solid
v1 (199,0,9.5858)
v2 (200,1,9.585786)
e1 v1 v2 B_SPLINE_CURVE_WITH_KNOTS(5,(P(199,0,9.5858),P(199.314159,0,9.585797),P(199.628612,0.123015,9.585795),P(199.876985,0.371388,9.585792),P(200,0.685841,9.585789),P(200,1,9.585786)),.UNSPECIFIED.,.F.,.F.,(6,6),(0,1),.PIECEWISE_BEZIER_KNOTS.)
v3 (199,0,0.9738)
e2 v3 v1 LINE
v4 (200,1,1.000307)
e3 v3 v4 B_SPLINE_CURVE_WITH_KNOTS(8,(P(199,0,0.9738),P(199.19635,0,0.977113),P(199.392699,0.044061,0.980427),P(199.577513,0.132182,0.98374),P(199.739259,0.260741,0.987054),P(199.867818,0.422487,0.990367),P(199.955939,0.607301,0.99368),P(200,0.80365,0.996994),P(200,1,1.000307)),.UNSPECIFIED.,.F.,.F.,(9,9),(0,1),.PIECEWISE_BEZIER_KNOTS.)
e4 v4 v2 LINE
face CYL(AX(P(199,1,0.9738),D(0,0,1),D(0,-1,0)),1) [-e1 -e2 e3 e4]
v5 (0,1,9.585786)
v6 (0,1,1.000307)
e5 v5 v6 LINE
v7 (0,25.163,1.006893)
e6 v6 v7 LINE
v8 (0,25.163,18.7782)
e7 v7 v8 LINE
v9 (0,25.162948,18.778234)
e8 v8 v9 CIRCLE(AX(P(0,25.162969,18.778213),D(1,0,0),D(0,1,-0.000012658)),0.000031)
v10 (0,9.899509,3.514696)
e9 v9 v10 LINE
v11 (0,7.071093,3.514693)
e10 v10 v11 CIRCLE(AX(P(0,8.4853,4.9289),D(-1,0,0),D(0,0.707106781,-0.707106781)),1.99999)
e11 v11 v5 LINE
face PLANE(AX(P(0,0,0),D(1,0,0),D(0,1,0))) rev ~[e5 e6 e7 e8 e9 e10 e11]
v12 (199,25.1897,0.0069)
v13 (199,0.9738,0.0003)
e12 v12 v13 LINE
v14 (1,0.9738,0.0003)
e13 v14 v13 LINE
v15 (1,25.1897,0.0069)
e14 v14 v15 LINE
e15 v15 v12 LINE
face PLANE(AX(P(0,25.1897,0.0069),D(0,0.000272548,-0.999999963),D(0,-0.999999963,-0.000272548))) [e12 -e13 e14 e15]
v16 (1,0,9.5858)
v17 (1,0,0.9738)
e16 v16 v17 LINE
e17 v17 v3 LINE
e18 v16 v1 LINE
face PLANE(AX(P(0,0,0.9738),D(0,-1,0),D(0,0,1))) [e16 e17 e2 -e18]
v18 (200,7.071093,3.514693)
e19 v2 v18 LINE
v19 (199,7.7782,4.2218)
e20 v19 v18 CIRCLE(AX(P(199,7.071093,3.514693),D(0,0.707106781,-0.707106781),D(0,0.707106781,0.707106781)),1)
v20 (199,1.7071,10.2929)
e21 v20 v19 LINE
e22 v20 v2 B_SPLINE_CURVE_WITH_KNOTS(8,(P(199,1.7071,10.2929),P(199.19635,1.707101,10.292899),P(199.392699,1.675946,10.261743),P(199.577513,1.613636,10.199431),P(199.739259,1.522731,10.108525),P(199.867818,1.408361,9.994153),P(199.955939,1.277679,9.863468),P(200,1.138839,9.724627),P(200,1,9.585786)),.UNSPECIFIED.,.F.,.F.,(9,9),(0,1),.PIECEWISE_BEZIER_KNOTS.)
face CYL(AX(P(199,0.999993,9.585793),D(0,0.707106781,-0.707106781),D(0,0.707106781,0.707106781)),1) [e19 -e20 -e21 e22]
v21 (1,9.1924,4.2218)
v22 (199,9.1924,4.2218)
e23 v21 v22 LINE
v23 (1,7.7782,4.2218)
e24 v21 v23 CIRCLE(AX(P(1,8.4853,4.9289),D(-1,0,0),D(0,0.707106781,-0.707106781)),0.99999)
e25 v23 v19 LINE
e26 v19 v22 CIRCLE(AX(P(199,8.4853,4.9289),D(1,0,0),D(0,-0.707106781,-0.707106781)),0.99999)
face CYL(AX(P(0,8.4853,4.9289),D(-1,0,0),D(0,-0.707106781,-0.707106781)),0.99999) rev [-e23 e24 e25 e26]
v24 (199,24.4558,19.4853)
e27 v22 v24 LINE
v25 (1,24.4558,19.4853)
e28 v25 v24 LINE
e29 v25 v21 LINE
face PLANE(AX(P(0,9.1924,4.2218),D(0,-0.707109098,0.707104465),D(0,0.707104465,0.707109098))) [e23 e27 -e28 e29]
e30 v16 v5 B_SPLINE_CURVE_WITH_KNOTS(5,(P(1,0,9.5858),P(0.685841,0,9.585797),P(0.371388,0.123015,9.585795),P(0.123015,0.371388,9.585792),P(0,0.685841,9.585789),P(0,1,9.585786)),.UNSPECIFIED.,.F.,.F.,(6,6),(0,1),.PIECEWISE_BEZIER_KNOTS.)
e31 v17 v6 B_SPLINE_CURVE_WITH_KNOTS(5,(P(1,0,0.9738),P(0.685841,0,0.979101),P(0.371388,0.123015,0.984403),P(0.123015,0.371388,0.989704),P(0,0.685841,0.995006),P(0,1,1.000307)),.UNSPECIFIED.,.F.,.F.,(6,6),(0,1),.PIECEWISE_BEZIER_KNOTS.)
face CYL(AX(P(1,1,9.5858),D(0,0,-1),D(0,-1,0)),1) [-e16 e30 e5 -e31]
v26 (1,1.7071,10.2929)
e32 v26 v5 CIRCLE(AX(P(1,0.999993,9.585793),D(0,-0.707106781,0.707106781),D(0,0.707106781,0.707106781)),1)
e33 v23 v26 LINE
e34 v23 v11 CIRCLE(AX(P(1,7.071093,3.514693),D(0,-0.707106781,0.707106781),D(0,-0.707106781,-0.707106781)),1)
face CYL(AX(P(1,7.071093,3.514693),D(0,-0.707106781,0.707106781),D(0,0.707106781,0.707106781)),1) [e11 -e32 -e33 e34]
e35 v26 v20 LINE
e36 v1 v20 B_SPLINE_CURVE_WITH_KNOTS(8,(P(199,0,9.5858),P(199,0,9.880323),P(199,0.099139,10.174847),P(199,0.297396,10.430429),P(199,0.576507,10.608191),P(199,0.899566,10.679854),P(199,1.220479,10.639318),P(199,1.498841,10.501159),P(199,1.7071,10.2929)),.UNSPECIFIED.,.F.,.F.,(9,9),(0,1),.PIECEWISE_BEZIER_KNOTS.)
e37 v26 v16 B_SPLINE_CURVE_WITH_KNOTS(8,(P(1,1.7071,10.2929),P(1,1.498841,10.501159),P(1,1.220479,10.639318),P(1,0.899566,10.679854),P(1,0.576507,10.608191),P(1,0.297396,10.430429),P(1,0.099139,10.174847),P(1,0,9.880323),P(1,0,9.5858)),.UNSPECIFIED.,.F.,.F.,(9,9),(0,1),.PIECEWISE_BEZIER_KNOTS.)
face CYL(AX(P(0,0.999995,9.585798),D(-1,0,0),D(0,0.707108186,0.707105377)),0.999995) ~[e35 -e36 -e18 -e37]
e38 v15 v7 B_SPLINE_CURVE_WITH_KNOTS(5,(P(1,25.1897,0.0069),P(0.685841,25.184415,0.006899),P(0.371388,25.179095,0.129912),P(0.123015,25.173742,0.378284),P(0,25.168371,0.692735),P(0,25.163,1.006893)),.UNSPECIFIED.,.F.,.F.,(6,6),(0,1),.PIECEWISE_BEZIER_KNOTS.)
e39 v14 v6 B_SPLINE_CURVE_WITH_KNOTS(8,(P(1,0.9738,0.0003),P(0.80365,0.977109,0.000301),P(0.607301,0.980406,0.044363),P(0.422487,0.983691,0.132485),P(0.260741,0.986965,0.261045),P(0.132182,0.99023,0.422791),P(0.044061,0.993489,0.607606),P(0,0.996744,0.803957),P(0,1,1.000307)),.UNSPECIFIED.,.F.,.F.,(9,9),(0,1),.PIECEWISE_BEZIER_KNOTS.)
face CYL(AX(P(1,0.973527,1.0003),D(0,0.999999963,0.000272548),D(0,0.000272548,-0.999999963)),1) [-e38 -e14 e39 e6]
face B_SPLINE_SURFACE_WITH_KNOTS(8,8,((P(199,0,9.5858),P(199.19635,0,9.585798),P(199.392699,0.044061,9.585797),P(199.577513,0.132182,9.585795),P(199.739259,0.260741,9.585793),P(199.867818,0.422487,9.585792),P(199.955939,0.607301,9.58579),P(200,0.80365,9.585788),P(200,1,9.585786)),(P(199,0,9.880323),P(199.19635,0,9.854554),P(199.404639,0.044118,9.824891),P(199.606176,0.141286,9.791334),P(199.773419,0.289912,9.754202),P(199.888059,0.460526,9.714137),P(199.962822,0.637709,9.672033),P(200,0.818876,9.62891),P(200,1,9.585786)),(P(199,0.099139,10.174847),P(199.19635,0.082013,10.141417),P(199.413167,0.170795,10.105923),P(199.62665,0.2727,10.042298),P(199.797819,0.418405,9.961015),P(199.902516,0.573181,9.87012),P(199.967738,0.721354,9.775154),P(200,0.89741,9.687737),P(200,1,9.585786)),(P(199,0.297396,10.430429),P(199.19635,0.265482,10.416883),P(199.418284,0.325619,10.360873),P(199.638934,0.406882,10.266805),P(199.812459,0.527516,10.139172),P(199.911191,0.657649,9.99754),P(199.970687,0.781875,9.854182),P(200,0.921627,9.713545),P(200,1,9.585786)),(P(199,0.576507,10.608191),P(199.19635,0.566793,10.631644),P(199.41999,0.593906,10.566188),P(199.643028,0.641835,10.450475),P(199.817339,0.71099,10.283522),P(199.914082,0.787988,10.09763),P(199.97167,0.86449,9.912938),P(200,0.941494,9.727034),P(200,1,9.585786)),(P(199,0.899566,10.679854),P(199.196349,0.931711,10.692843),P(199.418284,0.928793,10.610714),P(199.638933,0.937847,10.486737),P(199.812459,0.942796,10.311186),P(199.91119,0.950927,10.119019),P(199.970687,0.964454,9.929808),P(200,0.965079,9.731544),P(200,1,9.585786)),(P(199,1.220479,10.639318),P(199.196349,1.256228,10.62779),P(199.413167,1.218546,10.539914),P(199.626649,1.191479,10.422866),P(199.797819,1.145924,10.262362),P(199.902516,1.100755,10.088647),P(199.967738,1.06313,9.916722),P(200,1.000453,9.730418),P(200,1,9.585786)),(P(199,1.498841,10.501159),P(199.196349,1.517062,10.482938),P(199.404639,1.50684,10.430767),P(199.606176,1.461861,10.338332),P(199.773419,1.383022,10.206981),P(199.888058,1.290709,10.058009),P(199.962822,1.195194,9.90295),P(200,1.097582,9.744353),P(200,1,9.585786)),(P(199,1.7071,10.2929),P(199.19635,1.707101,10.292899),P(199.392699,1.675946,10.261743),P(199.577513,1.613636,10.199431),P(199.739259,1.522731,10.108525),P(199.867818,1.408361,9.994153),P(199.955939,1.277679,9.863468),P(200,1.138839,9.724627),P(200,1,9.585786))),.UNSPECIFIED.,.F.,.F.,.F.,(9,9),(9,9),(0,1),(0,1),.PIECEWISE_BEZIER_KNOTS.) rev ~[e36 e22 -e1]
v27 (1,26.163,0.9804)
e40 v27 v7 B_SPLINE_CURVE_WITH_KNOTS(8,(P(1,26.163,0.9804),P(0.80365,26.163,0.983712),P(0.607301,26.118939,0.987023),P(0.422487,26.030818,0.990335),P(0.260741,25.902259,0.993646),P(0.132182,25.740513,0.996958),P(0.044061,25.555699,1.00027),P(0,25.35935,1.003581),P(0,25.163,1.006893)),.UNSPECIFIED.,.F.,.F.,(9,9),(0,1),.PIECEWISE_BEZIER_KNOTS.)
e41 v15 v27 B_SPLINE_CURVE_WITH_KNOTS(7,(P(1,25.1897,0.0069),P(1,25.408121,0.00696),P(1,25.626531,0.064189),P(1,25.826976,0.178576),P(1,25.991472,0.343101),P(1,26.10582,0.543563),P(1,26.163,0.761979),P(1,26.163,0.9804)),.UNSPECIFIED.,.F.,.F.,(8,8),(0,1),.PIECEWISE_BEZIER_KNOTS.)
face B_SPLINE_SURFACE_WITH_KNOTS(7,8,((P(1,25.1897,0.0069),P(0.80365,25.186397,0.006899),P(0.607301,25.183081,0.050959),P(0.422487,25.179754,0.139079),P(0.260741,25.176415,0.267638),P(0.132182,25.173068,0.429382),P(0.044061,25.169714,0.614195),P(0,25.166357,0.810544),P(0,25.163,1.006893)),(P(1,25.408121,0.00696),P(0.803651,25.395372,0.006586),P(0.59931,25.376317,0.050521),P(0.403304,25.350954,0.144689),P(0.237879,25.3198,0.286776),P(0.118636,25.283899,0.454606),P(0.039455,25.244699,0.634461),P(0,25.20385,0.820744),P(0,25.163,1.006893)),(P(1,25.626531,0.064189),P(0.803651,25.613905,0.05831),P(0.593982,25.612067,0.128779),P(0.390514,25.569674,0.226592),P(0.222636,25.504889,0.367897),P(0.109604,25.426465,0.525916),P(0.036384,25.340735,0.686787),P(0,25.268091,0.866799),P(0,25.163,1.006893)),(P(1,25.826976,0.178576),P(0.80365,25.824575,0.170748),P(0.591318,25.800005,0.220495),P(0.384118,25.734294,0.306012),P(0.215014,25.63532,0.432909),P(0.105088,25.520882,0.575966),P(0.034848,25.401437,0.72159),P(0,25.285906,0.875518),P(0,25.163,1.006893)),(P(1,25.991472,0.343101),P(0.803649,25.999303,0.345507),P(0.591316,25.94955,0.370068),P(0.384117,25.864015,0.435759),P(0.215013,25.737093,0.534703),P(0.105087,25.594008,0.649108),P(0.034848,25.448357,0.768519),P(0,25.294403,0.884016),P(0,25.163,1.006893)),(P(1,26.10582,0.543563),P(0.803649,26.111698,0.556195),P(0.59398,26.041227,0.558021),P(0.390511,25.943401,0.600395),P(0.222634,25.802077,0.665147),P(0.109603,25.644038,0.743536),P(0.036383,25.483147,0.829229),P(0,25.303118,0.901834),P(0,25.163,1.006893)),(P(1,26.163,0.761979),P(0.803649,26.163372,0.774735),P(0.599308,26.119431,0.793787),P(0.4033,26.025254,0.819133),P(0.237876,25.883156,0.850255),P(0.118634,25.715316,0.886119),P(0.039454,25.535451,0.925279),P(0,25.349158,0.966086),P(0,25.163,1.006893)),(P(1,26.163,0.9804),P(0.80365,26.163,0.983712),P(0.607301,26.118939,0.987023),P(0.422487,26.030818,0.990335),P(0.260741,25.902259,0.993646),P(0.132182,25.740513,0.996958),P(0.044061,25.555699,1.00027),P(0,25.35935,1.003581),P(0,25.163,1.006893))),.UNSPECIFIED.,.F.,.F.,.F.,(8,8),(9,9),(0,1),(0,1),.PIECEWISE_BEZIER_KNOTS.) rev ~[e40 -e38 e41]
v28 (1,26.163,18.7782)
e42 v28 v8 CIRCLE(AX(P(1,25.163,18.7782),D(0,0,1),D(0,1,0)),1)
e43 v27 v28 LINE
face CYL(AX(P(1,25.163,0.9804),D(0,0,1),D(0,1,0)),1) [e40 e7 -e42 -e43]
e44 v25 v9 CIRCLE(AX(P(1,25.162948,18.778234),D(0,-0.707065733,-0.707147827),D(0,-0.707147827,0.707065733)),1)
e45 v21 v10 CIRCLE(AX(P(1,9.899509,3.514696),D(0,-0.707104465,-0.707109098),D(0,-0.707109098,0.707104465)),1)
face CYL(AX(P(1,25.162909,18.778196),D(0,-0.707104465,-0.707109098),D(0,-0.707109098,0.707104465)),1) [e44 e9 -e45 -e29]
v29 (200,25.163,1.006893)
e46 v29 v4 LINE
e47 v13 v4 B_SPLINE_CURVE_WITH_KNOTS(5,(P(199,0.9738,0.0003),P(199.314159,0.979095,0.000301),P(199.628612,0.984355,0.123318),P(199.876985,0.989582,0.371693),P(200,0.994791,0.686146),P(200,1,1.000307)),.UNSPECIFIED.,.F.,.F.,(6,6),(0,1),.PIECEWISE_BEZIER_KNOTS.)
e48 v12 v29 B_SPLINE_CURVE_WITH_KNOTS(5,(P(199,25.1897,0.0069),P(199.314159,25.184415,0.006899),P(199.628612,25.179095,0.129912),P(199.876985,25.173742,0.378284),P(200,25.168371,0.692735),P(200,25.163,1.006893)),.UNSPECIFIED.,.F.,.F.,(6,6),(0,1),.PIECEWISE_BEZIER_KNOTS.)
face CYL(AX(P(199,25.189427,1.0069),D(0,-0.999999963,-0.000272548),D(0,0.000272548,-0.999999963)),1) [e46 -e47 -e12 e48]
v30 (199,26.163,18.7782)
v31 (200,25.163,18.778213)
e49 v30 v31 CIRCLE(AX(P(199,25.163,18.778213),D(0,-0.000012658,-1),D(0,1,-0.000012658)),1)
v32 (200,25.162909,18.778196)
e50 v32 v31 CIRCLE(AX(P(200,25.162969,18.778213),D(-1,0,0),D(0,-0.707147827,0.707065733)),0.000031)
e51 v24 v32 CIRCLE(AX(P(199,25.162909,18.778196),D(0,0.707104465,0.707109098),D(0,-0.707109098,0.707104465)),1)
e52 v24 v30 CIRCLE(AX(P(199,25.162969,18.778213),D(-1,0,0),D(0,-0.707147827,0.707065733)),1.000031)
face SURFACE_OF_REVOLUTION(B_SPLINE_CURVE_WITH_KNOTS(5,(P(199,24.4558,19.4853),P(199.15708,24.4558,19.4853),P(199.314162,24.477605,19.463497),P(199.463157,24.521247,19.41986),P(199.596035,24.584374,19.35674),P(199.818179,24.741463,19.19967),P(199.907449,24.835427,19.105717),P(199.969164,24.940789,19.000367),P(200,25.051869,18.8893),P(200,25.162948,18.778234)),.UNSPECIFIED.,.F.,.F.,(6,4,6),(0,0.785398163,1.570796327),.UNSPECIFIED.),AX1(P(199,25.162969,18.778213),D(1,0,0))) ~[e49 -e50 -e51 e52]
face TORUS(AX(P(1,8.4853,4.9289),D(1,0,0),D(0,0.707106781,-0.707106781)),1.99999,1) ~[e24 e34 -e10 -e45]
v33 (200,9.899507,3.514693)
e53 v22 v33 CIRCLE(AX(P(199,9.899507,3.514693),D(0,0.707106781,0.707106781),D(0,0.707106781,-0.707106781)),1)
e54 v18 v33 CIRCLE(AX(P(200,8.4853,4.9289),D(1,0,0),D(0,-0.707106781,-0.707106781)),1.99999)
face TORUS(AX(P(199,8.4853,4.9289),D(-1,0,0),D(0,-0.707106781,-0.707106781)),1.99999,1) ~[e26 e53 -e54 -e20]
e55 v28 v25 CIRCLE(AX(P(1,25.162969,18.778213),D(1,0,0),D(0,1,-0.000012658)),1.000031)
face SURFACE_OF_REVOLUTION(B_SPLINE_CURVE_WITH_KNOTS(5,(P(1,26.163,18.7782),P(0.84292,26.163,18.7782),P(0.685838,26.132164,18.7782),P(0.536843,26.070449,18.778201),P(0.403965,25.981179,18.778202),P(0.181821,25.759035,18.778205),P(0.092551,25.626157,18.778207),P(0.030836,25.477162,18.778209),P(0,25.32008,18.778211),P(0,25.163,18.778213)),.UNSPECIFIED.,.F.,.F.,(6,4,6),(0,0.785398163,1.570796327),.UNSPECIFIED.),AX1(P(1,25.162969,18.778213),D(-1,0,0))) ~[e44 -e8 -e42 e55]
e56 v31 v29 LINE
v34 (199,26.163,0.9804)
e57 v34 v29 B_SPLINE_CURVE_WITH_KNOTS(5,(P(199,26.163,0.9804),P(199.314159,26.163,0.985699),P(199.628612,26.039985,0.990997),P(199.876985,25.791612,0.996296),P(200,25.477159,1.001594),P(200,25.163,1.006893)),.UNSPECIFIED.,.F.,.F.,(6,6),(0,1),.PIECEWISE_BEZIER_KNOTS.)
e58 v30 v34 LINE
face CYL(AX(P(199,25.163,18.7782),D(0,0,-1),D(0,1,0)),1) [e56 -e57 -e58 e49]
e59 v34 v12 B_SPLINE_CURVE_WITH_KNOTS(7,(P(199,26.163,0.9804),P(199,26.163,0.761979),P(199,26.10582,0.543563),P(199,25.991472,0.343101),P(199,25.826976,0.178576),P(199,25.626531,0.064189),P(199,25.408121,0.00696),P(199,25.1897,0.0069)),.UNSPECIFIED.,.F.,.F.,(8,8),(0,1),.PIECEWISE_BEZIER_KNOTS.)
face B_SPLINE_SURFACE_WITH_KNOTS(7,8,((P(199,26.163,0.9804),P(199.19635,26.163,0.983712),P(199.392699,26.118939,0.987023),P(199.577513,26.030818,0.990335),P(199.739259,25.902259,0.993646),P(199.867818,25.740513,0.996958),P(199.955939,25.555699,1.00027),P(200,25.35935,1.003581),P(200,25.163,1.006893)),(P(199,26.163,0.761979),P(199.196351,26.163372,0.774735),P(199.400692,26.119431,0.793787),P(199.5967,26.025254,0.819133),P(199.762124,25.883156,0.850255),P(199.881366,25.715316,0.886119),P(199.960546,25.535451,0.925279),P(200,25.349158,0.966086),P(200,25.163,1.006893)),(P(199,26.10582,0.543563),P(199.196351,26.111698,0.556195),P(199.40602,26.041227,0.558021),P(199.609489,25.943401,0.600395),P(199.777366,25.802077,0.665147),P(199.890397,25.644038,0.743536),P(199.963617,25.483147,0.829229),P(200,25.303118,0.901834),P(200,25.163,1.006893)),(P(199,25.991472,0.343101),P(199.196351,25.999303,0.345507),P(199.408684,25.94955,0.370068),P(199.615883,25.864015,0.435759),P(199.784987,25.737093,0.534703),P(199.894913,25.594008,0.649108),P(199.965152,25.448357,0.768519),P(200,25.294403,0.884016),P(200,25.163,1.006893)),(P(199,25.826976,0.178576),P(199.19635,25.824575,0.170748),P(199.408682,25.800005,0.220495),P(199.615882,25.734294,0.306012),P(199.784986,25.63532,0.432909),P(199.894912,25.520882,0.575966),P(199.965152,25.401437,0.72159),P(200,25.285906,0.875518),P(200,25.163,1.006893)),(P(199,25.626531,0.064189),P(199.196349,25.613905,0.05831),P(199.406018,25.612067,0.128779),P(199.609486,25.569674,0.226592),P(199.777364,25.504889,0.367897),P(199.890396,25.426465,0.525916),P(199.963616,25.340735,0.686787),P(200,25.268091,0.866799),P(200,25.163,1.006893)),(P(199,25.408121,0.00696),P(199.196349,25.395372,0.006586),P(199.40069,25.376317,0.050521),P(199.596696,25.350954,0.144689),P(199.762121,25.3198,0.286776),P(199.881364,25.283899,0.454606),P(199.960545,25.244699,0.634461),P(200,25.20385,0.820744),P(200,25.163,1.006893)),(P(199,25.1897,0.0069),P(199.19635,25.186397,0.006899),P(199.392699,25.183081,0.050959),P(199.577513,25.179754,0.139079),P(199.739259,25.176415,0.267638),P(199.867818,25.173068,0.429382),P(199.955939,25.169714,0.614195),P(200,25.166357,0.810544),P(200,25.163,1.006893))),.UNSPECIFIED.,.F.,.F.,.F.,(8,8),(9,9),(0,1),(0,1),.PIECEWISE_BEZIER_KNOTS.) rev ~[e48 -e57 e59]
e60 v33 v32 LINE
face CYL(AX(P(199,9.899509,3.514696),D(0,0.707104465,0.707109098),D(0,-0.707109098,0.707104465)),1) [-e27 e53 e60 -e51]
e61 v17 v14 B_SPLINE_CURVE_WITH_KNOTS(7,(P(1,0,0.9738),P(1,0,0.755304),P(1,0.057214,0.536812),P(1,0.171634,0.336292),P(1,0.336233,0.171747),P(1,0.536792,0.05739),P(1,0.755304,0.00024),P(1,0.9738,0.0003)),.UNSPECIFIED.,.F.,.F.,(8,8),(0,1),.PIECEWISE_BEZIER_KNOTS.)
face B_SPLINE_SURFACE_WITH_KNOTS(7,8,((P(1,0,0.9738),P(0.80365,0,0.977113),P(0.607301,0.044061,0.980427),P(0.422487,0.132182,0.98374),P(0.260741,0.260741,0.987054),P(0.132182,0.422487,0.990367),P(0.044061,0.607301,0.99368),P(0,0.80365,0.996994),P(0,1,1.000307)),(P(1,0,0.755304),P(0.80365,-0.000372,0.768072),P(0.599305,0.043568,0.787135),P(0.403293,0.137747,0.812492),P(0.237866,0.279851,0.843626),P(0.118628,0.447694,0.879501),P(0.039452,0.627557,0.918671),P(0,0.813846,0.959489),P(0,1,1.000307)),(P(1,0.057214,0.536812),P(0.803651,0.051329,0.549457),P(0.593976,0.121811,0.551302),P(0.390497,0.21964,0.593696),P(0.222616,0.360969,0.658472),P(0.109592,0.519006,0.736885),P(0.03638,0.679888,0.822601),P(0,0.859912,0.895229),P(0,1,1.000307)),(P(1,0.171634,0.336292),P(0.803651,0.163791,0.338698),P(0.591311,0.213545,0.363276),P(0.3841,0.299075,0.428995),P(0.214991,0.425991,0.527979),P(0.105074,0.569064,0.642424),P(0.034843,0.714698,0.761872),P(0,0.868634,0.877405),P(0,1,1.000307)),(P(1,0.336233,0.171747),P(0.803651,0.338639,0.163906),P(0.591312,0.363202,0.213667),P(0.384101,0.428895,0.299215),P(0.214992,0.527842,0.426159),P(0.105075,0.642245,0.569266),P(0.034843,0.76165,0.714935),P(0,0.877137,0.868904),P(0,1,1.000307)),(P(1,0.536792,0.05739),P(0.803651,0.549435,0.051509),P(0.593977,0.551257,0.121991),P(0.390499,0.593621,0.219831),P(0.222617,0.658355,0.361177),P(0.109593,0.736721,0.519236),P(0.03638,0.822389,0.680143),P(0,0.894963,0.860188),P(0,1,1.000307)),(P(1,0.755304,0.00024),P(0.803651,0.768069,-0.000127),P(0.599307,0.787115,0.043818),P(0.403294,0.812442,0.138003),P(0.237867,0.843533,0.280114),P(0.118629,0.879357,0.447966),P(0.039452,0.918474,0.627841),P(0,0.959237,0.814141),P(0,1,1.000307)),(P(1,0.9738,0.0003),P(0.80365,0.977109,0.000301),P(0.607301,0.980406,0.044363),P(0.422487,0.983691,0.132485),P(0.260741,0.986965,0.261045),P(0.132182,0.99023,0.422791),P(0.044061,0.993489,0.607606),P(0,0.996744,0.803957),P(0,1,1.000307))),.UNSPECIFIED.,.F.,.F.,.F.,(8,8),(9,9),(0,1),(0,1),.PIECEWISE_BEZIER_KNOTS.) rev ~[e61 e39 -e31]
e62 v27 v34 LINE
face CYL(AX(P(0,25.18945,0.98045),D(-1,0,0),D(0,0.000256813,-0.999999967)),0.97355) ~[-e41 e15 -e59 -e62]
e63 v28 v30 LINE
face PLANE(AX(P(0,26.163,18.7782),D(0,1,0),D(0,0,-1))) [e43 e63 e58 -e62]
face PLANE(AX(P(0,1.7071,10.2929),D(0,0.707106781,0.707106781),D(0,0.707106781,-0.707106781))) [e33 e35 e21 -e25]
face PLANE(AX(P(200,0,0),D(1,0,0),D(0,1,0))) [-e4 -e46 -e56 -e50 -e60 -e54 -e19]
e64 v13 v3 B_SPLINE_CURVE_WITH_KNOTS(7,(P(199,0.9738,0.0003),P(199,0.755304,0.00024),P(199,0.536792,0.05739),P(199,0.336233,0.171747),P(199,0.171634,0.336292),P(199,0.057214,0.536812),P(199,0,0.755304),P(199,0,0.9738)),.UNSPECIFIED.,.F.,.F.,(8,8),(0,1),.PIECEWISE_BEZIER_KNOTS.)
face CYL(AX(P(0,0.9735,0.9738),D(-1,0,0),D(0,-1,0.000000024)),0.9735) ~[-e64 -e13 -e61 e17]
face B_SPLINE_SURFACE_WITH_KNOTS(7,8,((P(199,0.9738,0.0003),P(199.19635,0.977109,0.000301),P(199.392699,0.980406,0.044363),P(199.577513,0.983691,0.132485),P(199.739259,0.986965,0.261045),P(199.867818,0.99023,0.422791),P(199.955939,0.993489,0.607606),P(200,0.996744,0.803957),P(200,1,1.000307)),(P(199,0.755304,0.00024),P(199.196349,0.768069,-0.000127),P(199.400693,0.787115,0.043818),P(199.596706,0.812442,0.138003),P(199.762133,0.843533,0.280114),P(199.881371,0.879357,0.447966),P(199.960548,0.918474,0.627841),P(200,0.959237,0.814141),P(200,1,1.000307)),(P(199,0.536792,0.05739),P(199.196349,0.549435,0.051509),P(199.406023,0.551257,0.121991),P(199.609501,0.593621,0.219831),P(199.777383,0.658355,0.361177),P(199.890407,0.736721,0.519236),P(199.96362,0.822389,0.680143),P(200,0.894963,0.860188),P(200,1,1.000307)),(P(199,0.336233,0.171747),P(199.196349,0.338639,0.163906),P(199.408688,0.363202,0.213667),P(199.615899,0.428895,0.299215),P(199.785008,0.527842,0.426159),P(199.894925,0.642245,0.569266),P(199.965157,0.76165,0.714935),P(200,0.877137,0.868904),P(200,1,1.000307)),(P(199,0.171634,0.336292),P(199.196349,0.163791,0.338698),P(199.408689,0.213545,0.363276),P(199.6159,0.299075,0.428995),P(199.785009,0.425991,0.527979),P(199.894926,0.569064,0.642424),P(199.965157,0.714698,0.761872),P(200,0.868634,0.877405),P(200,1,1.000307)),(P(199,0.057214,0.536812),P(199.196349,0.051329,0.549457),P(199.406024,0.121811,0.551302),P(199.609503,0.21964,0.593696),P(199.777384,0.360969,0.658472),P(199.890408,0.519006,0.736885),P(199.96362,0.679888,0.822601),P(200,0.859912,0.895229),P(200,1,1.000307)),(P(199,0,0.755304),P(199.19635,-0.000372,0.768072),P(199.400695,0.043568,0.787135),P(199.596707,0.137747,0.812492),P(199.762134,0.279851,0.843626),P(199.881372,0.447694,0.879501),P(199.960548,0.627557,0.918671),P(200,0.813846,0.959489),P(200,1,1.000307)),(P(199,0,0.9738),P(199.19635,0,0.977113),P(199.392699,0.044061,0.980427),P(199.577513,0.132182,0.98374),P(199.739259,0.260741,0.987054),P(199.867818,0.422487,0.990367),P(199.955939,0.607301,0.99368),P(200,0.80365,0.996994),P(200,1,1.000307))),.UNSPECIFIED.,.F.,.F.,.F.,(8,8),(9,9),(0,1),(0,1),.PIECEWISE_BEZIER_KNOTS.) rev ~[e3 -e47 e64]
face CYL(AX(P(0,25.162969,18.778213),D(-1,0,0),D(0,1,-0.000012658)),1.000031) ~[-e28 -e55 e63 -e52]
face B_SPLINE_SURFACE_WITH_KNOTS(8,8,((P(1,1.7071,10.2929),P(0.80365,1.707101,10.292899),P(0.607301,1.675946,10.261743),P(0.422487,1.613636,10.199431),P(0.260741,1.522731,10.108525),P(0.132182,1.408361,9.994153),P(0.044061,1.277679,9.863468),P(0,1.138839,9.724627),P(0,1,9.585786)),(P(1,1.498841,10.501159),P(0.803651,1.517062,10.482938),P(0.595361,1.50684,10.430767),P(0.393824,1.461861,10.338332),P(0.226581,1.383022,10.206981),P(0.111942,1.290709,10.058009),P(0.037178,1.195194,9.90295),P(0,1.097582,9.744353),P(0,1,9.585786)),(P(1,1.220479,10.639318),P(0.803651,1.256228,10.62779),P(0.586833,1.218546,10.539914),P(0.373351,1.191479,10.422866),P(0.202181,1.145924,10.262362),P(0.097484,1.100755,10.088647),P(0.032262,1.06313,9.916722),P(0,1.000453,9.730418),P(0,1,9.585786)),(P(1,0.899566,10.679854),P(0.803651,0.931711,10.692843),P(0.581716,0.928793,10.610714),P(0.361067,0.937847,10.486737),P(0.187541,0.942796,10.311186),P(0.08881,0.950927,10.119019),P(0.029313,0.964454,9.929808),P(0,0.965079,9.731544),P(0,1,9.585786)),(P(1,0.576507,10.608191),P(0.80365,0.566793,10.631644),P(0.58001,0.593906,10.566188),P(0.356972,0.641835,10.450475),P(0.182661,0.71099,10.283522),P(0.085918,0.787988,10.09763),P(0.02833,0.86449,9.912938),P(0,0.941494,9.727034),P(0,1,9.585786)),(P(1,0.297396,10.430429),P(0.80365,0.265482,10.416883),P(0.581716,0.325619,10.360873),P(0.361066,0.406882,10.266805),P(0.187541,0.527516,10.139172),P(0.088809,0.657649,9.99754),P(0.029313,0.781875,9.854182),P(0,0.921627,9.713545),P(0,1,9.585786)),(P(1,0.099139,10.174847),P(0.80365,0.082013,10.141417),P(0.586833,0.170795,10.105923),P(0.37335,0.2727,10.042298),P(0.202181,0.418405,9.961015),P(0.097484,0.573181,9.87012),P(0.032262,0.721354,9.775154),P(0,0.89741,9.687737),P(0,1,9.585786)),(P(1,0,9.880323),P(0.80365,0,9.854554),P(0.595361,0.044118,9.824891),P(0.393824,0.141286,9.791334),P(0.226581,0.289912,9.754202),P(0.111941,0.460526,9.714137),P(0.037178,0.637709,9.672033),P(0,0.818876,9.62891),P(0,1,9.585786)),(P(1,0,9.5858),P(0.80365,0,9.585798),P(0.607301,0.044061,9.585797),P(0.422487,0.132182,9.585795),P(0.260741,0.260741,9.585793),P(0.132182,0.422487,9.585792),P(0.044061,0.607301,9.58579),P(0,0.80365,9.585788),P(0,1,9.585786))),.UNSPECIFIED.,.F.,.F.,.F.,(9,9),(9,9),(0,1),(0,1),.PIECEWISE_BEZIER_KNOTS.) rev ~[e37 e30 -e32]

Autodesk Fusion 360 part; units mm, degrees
sketch "Skizze1" plane through (0, 0, 0) normal (1, 0, 0) x (0, 1, 0)
  line L0 (0, 0.9738) -> (0, 9.5858)
  line L1 (1.7071, 10.2929) -> (7.7782, 4.2218)
  line L2 (0, 12) -> (12, 12) construction
  line L3 (9.1924, 4.2218) -> (24.4558, 19.4853)
  line L4 (8.4853, 3.5147) -> (33.4853, 3.5147) construction
  line L5 (26.163, 18.7782) -> (26.163, 0.9804)
  line L6 (25.1897, 0.0069) -> (0.9738, 0.0003)
  arc A0 (1.7071, 10.2929) -> (0, 9.5858) centre (1, 9.5858) ccw
  arc A1 (26.163, 18.7782) -> (24.4558, 19.4853) centre (25.163, 18.7782) ccw
  arc A2 (0, 0.9738) -> (0.9738, 0.0003) centre (0.9735, 0.9738) ccw
  arc A3 (25.1897, 0.0069) -> (26.163, 0.9804) centre (25.1894, 0.9804) ccw
  arc A4 (7.7782, 4.2218) -> (9.1924, 4.2218) centre (8.4853, 4.9289) ccw
  point P0 (26.163, 21.1924)
  dimension "d1" = 12
  dimension "d2" = 12
  dimension "d3" = 45
  dimension "d4" = 45
  dimension "d5" = 25
  dimension "d6" = 1
  dimension "d7" = 0.9735
  dimension "d10" = 1
extrude "Extrusion1" add sketch "Skizze1" along normal blind 200
fillet "Abrundung1" radius 1 10 edges at (200, 13.0817, 0.0036) (200, 25.8779, 0.2922) (200, 26.163, 9.8793) (200, 25.5456, 19.7021) (200, 16.8241, 11.8536) (200, 8.4853, 3.9289) (200, 4.7426, 7.2574) (200, 0.6173, 10.5097) (200, 0, 5.2798) (200, 0.2852, 0.2853)
fillet "Abrundung1" radius 1 10 edges at (0, 0.6173, 10.5097) (0, 4.7426, 7.2574) (0, 8.4853, 3.9289) (0, 16.8241, 11.8536) (0, 25.5456, 19.7021) (0, 26.163, 9.8793) (0, 25.8779, 0.2922) (0, 13.0817, 0.0036) (0, 0.2852, 0.2853) (0, 0, 5.2798)
